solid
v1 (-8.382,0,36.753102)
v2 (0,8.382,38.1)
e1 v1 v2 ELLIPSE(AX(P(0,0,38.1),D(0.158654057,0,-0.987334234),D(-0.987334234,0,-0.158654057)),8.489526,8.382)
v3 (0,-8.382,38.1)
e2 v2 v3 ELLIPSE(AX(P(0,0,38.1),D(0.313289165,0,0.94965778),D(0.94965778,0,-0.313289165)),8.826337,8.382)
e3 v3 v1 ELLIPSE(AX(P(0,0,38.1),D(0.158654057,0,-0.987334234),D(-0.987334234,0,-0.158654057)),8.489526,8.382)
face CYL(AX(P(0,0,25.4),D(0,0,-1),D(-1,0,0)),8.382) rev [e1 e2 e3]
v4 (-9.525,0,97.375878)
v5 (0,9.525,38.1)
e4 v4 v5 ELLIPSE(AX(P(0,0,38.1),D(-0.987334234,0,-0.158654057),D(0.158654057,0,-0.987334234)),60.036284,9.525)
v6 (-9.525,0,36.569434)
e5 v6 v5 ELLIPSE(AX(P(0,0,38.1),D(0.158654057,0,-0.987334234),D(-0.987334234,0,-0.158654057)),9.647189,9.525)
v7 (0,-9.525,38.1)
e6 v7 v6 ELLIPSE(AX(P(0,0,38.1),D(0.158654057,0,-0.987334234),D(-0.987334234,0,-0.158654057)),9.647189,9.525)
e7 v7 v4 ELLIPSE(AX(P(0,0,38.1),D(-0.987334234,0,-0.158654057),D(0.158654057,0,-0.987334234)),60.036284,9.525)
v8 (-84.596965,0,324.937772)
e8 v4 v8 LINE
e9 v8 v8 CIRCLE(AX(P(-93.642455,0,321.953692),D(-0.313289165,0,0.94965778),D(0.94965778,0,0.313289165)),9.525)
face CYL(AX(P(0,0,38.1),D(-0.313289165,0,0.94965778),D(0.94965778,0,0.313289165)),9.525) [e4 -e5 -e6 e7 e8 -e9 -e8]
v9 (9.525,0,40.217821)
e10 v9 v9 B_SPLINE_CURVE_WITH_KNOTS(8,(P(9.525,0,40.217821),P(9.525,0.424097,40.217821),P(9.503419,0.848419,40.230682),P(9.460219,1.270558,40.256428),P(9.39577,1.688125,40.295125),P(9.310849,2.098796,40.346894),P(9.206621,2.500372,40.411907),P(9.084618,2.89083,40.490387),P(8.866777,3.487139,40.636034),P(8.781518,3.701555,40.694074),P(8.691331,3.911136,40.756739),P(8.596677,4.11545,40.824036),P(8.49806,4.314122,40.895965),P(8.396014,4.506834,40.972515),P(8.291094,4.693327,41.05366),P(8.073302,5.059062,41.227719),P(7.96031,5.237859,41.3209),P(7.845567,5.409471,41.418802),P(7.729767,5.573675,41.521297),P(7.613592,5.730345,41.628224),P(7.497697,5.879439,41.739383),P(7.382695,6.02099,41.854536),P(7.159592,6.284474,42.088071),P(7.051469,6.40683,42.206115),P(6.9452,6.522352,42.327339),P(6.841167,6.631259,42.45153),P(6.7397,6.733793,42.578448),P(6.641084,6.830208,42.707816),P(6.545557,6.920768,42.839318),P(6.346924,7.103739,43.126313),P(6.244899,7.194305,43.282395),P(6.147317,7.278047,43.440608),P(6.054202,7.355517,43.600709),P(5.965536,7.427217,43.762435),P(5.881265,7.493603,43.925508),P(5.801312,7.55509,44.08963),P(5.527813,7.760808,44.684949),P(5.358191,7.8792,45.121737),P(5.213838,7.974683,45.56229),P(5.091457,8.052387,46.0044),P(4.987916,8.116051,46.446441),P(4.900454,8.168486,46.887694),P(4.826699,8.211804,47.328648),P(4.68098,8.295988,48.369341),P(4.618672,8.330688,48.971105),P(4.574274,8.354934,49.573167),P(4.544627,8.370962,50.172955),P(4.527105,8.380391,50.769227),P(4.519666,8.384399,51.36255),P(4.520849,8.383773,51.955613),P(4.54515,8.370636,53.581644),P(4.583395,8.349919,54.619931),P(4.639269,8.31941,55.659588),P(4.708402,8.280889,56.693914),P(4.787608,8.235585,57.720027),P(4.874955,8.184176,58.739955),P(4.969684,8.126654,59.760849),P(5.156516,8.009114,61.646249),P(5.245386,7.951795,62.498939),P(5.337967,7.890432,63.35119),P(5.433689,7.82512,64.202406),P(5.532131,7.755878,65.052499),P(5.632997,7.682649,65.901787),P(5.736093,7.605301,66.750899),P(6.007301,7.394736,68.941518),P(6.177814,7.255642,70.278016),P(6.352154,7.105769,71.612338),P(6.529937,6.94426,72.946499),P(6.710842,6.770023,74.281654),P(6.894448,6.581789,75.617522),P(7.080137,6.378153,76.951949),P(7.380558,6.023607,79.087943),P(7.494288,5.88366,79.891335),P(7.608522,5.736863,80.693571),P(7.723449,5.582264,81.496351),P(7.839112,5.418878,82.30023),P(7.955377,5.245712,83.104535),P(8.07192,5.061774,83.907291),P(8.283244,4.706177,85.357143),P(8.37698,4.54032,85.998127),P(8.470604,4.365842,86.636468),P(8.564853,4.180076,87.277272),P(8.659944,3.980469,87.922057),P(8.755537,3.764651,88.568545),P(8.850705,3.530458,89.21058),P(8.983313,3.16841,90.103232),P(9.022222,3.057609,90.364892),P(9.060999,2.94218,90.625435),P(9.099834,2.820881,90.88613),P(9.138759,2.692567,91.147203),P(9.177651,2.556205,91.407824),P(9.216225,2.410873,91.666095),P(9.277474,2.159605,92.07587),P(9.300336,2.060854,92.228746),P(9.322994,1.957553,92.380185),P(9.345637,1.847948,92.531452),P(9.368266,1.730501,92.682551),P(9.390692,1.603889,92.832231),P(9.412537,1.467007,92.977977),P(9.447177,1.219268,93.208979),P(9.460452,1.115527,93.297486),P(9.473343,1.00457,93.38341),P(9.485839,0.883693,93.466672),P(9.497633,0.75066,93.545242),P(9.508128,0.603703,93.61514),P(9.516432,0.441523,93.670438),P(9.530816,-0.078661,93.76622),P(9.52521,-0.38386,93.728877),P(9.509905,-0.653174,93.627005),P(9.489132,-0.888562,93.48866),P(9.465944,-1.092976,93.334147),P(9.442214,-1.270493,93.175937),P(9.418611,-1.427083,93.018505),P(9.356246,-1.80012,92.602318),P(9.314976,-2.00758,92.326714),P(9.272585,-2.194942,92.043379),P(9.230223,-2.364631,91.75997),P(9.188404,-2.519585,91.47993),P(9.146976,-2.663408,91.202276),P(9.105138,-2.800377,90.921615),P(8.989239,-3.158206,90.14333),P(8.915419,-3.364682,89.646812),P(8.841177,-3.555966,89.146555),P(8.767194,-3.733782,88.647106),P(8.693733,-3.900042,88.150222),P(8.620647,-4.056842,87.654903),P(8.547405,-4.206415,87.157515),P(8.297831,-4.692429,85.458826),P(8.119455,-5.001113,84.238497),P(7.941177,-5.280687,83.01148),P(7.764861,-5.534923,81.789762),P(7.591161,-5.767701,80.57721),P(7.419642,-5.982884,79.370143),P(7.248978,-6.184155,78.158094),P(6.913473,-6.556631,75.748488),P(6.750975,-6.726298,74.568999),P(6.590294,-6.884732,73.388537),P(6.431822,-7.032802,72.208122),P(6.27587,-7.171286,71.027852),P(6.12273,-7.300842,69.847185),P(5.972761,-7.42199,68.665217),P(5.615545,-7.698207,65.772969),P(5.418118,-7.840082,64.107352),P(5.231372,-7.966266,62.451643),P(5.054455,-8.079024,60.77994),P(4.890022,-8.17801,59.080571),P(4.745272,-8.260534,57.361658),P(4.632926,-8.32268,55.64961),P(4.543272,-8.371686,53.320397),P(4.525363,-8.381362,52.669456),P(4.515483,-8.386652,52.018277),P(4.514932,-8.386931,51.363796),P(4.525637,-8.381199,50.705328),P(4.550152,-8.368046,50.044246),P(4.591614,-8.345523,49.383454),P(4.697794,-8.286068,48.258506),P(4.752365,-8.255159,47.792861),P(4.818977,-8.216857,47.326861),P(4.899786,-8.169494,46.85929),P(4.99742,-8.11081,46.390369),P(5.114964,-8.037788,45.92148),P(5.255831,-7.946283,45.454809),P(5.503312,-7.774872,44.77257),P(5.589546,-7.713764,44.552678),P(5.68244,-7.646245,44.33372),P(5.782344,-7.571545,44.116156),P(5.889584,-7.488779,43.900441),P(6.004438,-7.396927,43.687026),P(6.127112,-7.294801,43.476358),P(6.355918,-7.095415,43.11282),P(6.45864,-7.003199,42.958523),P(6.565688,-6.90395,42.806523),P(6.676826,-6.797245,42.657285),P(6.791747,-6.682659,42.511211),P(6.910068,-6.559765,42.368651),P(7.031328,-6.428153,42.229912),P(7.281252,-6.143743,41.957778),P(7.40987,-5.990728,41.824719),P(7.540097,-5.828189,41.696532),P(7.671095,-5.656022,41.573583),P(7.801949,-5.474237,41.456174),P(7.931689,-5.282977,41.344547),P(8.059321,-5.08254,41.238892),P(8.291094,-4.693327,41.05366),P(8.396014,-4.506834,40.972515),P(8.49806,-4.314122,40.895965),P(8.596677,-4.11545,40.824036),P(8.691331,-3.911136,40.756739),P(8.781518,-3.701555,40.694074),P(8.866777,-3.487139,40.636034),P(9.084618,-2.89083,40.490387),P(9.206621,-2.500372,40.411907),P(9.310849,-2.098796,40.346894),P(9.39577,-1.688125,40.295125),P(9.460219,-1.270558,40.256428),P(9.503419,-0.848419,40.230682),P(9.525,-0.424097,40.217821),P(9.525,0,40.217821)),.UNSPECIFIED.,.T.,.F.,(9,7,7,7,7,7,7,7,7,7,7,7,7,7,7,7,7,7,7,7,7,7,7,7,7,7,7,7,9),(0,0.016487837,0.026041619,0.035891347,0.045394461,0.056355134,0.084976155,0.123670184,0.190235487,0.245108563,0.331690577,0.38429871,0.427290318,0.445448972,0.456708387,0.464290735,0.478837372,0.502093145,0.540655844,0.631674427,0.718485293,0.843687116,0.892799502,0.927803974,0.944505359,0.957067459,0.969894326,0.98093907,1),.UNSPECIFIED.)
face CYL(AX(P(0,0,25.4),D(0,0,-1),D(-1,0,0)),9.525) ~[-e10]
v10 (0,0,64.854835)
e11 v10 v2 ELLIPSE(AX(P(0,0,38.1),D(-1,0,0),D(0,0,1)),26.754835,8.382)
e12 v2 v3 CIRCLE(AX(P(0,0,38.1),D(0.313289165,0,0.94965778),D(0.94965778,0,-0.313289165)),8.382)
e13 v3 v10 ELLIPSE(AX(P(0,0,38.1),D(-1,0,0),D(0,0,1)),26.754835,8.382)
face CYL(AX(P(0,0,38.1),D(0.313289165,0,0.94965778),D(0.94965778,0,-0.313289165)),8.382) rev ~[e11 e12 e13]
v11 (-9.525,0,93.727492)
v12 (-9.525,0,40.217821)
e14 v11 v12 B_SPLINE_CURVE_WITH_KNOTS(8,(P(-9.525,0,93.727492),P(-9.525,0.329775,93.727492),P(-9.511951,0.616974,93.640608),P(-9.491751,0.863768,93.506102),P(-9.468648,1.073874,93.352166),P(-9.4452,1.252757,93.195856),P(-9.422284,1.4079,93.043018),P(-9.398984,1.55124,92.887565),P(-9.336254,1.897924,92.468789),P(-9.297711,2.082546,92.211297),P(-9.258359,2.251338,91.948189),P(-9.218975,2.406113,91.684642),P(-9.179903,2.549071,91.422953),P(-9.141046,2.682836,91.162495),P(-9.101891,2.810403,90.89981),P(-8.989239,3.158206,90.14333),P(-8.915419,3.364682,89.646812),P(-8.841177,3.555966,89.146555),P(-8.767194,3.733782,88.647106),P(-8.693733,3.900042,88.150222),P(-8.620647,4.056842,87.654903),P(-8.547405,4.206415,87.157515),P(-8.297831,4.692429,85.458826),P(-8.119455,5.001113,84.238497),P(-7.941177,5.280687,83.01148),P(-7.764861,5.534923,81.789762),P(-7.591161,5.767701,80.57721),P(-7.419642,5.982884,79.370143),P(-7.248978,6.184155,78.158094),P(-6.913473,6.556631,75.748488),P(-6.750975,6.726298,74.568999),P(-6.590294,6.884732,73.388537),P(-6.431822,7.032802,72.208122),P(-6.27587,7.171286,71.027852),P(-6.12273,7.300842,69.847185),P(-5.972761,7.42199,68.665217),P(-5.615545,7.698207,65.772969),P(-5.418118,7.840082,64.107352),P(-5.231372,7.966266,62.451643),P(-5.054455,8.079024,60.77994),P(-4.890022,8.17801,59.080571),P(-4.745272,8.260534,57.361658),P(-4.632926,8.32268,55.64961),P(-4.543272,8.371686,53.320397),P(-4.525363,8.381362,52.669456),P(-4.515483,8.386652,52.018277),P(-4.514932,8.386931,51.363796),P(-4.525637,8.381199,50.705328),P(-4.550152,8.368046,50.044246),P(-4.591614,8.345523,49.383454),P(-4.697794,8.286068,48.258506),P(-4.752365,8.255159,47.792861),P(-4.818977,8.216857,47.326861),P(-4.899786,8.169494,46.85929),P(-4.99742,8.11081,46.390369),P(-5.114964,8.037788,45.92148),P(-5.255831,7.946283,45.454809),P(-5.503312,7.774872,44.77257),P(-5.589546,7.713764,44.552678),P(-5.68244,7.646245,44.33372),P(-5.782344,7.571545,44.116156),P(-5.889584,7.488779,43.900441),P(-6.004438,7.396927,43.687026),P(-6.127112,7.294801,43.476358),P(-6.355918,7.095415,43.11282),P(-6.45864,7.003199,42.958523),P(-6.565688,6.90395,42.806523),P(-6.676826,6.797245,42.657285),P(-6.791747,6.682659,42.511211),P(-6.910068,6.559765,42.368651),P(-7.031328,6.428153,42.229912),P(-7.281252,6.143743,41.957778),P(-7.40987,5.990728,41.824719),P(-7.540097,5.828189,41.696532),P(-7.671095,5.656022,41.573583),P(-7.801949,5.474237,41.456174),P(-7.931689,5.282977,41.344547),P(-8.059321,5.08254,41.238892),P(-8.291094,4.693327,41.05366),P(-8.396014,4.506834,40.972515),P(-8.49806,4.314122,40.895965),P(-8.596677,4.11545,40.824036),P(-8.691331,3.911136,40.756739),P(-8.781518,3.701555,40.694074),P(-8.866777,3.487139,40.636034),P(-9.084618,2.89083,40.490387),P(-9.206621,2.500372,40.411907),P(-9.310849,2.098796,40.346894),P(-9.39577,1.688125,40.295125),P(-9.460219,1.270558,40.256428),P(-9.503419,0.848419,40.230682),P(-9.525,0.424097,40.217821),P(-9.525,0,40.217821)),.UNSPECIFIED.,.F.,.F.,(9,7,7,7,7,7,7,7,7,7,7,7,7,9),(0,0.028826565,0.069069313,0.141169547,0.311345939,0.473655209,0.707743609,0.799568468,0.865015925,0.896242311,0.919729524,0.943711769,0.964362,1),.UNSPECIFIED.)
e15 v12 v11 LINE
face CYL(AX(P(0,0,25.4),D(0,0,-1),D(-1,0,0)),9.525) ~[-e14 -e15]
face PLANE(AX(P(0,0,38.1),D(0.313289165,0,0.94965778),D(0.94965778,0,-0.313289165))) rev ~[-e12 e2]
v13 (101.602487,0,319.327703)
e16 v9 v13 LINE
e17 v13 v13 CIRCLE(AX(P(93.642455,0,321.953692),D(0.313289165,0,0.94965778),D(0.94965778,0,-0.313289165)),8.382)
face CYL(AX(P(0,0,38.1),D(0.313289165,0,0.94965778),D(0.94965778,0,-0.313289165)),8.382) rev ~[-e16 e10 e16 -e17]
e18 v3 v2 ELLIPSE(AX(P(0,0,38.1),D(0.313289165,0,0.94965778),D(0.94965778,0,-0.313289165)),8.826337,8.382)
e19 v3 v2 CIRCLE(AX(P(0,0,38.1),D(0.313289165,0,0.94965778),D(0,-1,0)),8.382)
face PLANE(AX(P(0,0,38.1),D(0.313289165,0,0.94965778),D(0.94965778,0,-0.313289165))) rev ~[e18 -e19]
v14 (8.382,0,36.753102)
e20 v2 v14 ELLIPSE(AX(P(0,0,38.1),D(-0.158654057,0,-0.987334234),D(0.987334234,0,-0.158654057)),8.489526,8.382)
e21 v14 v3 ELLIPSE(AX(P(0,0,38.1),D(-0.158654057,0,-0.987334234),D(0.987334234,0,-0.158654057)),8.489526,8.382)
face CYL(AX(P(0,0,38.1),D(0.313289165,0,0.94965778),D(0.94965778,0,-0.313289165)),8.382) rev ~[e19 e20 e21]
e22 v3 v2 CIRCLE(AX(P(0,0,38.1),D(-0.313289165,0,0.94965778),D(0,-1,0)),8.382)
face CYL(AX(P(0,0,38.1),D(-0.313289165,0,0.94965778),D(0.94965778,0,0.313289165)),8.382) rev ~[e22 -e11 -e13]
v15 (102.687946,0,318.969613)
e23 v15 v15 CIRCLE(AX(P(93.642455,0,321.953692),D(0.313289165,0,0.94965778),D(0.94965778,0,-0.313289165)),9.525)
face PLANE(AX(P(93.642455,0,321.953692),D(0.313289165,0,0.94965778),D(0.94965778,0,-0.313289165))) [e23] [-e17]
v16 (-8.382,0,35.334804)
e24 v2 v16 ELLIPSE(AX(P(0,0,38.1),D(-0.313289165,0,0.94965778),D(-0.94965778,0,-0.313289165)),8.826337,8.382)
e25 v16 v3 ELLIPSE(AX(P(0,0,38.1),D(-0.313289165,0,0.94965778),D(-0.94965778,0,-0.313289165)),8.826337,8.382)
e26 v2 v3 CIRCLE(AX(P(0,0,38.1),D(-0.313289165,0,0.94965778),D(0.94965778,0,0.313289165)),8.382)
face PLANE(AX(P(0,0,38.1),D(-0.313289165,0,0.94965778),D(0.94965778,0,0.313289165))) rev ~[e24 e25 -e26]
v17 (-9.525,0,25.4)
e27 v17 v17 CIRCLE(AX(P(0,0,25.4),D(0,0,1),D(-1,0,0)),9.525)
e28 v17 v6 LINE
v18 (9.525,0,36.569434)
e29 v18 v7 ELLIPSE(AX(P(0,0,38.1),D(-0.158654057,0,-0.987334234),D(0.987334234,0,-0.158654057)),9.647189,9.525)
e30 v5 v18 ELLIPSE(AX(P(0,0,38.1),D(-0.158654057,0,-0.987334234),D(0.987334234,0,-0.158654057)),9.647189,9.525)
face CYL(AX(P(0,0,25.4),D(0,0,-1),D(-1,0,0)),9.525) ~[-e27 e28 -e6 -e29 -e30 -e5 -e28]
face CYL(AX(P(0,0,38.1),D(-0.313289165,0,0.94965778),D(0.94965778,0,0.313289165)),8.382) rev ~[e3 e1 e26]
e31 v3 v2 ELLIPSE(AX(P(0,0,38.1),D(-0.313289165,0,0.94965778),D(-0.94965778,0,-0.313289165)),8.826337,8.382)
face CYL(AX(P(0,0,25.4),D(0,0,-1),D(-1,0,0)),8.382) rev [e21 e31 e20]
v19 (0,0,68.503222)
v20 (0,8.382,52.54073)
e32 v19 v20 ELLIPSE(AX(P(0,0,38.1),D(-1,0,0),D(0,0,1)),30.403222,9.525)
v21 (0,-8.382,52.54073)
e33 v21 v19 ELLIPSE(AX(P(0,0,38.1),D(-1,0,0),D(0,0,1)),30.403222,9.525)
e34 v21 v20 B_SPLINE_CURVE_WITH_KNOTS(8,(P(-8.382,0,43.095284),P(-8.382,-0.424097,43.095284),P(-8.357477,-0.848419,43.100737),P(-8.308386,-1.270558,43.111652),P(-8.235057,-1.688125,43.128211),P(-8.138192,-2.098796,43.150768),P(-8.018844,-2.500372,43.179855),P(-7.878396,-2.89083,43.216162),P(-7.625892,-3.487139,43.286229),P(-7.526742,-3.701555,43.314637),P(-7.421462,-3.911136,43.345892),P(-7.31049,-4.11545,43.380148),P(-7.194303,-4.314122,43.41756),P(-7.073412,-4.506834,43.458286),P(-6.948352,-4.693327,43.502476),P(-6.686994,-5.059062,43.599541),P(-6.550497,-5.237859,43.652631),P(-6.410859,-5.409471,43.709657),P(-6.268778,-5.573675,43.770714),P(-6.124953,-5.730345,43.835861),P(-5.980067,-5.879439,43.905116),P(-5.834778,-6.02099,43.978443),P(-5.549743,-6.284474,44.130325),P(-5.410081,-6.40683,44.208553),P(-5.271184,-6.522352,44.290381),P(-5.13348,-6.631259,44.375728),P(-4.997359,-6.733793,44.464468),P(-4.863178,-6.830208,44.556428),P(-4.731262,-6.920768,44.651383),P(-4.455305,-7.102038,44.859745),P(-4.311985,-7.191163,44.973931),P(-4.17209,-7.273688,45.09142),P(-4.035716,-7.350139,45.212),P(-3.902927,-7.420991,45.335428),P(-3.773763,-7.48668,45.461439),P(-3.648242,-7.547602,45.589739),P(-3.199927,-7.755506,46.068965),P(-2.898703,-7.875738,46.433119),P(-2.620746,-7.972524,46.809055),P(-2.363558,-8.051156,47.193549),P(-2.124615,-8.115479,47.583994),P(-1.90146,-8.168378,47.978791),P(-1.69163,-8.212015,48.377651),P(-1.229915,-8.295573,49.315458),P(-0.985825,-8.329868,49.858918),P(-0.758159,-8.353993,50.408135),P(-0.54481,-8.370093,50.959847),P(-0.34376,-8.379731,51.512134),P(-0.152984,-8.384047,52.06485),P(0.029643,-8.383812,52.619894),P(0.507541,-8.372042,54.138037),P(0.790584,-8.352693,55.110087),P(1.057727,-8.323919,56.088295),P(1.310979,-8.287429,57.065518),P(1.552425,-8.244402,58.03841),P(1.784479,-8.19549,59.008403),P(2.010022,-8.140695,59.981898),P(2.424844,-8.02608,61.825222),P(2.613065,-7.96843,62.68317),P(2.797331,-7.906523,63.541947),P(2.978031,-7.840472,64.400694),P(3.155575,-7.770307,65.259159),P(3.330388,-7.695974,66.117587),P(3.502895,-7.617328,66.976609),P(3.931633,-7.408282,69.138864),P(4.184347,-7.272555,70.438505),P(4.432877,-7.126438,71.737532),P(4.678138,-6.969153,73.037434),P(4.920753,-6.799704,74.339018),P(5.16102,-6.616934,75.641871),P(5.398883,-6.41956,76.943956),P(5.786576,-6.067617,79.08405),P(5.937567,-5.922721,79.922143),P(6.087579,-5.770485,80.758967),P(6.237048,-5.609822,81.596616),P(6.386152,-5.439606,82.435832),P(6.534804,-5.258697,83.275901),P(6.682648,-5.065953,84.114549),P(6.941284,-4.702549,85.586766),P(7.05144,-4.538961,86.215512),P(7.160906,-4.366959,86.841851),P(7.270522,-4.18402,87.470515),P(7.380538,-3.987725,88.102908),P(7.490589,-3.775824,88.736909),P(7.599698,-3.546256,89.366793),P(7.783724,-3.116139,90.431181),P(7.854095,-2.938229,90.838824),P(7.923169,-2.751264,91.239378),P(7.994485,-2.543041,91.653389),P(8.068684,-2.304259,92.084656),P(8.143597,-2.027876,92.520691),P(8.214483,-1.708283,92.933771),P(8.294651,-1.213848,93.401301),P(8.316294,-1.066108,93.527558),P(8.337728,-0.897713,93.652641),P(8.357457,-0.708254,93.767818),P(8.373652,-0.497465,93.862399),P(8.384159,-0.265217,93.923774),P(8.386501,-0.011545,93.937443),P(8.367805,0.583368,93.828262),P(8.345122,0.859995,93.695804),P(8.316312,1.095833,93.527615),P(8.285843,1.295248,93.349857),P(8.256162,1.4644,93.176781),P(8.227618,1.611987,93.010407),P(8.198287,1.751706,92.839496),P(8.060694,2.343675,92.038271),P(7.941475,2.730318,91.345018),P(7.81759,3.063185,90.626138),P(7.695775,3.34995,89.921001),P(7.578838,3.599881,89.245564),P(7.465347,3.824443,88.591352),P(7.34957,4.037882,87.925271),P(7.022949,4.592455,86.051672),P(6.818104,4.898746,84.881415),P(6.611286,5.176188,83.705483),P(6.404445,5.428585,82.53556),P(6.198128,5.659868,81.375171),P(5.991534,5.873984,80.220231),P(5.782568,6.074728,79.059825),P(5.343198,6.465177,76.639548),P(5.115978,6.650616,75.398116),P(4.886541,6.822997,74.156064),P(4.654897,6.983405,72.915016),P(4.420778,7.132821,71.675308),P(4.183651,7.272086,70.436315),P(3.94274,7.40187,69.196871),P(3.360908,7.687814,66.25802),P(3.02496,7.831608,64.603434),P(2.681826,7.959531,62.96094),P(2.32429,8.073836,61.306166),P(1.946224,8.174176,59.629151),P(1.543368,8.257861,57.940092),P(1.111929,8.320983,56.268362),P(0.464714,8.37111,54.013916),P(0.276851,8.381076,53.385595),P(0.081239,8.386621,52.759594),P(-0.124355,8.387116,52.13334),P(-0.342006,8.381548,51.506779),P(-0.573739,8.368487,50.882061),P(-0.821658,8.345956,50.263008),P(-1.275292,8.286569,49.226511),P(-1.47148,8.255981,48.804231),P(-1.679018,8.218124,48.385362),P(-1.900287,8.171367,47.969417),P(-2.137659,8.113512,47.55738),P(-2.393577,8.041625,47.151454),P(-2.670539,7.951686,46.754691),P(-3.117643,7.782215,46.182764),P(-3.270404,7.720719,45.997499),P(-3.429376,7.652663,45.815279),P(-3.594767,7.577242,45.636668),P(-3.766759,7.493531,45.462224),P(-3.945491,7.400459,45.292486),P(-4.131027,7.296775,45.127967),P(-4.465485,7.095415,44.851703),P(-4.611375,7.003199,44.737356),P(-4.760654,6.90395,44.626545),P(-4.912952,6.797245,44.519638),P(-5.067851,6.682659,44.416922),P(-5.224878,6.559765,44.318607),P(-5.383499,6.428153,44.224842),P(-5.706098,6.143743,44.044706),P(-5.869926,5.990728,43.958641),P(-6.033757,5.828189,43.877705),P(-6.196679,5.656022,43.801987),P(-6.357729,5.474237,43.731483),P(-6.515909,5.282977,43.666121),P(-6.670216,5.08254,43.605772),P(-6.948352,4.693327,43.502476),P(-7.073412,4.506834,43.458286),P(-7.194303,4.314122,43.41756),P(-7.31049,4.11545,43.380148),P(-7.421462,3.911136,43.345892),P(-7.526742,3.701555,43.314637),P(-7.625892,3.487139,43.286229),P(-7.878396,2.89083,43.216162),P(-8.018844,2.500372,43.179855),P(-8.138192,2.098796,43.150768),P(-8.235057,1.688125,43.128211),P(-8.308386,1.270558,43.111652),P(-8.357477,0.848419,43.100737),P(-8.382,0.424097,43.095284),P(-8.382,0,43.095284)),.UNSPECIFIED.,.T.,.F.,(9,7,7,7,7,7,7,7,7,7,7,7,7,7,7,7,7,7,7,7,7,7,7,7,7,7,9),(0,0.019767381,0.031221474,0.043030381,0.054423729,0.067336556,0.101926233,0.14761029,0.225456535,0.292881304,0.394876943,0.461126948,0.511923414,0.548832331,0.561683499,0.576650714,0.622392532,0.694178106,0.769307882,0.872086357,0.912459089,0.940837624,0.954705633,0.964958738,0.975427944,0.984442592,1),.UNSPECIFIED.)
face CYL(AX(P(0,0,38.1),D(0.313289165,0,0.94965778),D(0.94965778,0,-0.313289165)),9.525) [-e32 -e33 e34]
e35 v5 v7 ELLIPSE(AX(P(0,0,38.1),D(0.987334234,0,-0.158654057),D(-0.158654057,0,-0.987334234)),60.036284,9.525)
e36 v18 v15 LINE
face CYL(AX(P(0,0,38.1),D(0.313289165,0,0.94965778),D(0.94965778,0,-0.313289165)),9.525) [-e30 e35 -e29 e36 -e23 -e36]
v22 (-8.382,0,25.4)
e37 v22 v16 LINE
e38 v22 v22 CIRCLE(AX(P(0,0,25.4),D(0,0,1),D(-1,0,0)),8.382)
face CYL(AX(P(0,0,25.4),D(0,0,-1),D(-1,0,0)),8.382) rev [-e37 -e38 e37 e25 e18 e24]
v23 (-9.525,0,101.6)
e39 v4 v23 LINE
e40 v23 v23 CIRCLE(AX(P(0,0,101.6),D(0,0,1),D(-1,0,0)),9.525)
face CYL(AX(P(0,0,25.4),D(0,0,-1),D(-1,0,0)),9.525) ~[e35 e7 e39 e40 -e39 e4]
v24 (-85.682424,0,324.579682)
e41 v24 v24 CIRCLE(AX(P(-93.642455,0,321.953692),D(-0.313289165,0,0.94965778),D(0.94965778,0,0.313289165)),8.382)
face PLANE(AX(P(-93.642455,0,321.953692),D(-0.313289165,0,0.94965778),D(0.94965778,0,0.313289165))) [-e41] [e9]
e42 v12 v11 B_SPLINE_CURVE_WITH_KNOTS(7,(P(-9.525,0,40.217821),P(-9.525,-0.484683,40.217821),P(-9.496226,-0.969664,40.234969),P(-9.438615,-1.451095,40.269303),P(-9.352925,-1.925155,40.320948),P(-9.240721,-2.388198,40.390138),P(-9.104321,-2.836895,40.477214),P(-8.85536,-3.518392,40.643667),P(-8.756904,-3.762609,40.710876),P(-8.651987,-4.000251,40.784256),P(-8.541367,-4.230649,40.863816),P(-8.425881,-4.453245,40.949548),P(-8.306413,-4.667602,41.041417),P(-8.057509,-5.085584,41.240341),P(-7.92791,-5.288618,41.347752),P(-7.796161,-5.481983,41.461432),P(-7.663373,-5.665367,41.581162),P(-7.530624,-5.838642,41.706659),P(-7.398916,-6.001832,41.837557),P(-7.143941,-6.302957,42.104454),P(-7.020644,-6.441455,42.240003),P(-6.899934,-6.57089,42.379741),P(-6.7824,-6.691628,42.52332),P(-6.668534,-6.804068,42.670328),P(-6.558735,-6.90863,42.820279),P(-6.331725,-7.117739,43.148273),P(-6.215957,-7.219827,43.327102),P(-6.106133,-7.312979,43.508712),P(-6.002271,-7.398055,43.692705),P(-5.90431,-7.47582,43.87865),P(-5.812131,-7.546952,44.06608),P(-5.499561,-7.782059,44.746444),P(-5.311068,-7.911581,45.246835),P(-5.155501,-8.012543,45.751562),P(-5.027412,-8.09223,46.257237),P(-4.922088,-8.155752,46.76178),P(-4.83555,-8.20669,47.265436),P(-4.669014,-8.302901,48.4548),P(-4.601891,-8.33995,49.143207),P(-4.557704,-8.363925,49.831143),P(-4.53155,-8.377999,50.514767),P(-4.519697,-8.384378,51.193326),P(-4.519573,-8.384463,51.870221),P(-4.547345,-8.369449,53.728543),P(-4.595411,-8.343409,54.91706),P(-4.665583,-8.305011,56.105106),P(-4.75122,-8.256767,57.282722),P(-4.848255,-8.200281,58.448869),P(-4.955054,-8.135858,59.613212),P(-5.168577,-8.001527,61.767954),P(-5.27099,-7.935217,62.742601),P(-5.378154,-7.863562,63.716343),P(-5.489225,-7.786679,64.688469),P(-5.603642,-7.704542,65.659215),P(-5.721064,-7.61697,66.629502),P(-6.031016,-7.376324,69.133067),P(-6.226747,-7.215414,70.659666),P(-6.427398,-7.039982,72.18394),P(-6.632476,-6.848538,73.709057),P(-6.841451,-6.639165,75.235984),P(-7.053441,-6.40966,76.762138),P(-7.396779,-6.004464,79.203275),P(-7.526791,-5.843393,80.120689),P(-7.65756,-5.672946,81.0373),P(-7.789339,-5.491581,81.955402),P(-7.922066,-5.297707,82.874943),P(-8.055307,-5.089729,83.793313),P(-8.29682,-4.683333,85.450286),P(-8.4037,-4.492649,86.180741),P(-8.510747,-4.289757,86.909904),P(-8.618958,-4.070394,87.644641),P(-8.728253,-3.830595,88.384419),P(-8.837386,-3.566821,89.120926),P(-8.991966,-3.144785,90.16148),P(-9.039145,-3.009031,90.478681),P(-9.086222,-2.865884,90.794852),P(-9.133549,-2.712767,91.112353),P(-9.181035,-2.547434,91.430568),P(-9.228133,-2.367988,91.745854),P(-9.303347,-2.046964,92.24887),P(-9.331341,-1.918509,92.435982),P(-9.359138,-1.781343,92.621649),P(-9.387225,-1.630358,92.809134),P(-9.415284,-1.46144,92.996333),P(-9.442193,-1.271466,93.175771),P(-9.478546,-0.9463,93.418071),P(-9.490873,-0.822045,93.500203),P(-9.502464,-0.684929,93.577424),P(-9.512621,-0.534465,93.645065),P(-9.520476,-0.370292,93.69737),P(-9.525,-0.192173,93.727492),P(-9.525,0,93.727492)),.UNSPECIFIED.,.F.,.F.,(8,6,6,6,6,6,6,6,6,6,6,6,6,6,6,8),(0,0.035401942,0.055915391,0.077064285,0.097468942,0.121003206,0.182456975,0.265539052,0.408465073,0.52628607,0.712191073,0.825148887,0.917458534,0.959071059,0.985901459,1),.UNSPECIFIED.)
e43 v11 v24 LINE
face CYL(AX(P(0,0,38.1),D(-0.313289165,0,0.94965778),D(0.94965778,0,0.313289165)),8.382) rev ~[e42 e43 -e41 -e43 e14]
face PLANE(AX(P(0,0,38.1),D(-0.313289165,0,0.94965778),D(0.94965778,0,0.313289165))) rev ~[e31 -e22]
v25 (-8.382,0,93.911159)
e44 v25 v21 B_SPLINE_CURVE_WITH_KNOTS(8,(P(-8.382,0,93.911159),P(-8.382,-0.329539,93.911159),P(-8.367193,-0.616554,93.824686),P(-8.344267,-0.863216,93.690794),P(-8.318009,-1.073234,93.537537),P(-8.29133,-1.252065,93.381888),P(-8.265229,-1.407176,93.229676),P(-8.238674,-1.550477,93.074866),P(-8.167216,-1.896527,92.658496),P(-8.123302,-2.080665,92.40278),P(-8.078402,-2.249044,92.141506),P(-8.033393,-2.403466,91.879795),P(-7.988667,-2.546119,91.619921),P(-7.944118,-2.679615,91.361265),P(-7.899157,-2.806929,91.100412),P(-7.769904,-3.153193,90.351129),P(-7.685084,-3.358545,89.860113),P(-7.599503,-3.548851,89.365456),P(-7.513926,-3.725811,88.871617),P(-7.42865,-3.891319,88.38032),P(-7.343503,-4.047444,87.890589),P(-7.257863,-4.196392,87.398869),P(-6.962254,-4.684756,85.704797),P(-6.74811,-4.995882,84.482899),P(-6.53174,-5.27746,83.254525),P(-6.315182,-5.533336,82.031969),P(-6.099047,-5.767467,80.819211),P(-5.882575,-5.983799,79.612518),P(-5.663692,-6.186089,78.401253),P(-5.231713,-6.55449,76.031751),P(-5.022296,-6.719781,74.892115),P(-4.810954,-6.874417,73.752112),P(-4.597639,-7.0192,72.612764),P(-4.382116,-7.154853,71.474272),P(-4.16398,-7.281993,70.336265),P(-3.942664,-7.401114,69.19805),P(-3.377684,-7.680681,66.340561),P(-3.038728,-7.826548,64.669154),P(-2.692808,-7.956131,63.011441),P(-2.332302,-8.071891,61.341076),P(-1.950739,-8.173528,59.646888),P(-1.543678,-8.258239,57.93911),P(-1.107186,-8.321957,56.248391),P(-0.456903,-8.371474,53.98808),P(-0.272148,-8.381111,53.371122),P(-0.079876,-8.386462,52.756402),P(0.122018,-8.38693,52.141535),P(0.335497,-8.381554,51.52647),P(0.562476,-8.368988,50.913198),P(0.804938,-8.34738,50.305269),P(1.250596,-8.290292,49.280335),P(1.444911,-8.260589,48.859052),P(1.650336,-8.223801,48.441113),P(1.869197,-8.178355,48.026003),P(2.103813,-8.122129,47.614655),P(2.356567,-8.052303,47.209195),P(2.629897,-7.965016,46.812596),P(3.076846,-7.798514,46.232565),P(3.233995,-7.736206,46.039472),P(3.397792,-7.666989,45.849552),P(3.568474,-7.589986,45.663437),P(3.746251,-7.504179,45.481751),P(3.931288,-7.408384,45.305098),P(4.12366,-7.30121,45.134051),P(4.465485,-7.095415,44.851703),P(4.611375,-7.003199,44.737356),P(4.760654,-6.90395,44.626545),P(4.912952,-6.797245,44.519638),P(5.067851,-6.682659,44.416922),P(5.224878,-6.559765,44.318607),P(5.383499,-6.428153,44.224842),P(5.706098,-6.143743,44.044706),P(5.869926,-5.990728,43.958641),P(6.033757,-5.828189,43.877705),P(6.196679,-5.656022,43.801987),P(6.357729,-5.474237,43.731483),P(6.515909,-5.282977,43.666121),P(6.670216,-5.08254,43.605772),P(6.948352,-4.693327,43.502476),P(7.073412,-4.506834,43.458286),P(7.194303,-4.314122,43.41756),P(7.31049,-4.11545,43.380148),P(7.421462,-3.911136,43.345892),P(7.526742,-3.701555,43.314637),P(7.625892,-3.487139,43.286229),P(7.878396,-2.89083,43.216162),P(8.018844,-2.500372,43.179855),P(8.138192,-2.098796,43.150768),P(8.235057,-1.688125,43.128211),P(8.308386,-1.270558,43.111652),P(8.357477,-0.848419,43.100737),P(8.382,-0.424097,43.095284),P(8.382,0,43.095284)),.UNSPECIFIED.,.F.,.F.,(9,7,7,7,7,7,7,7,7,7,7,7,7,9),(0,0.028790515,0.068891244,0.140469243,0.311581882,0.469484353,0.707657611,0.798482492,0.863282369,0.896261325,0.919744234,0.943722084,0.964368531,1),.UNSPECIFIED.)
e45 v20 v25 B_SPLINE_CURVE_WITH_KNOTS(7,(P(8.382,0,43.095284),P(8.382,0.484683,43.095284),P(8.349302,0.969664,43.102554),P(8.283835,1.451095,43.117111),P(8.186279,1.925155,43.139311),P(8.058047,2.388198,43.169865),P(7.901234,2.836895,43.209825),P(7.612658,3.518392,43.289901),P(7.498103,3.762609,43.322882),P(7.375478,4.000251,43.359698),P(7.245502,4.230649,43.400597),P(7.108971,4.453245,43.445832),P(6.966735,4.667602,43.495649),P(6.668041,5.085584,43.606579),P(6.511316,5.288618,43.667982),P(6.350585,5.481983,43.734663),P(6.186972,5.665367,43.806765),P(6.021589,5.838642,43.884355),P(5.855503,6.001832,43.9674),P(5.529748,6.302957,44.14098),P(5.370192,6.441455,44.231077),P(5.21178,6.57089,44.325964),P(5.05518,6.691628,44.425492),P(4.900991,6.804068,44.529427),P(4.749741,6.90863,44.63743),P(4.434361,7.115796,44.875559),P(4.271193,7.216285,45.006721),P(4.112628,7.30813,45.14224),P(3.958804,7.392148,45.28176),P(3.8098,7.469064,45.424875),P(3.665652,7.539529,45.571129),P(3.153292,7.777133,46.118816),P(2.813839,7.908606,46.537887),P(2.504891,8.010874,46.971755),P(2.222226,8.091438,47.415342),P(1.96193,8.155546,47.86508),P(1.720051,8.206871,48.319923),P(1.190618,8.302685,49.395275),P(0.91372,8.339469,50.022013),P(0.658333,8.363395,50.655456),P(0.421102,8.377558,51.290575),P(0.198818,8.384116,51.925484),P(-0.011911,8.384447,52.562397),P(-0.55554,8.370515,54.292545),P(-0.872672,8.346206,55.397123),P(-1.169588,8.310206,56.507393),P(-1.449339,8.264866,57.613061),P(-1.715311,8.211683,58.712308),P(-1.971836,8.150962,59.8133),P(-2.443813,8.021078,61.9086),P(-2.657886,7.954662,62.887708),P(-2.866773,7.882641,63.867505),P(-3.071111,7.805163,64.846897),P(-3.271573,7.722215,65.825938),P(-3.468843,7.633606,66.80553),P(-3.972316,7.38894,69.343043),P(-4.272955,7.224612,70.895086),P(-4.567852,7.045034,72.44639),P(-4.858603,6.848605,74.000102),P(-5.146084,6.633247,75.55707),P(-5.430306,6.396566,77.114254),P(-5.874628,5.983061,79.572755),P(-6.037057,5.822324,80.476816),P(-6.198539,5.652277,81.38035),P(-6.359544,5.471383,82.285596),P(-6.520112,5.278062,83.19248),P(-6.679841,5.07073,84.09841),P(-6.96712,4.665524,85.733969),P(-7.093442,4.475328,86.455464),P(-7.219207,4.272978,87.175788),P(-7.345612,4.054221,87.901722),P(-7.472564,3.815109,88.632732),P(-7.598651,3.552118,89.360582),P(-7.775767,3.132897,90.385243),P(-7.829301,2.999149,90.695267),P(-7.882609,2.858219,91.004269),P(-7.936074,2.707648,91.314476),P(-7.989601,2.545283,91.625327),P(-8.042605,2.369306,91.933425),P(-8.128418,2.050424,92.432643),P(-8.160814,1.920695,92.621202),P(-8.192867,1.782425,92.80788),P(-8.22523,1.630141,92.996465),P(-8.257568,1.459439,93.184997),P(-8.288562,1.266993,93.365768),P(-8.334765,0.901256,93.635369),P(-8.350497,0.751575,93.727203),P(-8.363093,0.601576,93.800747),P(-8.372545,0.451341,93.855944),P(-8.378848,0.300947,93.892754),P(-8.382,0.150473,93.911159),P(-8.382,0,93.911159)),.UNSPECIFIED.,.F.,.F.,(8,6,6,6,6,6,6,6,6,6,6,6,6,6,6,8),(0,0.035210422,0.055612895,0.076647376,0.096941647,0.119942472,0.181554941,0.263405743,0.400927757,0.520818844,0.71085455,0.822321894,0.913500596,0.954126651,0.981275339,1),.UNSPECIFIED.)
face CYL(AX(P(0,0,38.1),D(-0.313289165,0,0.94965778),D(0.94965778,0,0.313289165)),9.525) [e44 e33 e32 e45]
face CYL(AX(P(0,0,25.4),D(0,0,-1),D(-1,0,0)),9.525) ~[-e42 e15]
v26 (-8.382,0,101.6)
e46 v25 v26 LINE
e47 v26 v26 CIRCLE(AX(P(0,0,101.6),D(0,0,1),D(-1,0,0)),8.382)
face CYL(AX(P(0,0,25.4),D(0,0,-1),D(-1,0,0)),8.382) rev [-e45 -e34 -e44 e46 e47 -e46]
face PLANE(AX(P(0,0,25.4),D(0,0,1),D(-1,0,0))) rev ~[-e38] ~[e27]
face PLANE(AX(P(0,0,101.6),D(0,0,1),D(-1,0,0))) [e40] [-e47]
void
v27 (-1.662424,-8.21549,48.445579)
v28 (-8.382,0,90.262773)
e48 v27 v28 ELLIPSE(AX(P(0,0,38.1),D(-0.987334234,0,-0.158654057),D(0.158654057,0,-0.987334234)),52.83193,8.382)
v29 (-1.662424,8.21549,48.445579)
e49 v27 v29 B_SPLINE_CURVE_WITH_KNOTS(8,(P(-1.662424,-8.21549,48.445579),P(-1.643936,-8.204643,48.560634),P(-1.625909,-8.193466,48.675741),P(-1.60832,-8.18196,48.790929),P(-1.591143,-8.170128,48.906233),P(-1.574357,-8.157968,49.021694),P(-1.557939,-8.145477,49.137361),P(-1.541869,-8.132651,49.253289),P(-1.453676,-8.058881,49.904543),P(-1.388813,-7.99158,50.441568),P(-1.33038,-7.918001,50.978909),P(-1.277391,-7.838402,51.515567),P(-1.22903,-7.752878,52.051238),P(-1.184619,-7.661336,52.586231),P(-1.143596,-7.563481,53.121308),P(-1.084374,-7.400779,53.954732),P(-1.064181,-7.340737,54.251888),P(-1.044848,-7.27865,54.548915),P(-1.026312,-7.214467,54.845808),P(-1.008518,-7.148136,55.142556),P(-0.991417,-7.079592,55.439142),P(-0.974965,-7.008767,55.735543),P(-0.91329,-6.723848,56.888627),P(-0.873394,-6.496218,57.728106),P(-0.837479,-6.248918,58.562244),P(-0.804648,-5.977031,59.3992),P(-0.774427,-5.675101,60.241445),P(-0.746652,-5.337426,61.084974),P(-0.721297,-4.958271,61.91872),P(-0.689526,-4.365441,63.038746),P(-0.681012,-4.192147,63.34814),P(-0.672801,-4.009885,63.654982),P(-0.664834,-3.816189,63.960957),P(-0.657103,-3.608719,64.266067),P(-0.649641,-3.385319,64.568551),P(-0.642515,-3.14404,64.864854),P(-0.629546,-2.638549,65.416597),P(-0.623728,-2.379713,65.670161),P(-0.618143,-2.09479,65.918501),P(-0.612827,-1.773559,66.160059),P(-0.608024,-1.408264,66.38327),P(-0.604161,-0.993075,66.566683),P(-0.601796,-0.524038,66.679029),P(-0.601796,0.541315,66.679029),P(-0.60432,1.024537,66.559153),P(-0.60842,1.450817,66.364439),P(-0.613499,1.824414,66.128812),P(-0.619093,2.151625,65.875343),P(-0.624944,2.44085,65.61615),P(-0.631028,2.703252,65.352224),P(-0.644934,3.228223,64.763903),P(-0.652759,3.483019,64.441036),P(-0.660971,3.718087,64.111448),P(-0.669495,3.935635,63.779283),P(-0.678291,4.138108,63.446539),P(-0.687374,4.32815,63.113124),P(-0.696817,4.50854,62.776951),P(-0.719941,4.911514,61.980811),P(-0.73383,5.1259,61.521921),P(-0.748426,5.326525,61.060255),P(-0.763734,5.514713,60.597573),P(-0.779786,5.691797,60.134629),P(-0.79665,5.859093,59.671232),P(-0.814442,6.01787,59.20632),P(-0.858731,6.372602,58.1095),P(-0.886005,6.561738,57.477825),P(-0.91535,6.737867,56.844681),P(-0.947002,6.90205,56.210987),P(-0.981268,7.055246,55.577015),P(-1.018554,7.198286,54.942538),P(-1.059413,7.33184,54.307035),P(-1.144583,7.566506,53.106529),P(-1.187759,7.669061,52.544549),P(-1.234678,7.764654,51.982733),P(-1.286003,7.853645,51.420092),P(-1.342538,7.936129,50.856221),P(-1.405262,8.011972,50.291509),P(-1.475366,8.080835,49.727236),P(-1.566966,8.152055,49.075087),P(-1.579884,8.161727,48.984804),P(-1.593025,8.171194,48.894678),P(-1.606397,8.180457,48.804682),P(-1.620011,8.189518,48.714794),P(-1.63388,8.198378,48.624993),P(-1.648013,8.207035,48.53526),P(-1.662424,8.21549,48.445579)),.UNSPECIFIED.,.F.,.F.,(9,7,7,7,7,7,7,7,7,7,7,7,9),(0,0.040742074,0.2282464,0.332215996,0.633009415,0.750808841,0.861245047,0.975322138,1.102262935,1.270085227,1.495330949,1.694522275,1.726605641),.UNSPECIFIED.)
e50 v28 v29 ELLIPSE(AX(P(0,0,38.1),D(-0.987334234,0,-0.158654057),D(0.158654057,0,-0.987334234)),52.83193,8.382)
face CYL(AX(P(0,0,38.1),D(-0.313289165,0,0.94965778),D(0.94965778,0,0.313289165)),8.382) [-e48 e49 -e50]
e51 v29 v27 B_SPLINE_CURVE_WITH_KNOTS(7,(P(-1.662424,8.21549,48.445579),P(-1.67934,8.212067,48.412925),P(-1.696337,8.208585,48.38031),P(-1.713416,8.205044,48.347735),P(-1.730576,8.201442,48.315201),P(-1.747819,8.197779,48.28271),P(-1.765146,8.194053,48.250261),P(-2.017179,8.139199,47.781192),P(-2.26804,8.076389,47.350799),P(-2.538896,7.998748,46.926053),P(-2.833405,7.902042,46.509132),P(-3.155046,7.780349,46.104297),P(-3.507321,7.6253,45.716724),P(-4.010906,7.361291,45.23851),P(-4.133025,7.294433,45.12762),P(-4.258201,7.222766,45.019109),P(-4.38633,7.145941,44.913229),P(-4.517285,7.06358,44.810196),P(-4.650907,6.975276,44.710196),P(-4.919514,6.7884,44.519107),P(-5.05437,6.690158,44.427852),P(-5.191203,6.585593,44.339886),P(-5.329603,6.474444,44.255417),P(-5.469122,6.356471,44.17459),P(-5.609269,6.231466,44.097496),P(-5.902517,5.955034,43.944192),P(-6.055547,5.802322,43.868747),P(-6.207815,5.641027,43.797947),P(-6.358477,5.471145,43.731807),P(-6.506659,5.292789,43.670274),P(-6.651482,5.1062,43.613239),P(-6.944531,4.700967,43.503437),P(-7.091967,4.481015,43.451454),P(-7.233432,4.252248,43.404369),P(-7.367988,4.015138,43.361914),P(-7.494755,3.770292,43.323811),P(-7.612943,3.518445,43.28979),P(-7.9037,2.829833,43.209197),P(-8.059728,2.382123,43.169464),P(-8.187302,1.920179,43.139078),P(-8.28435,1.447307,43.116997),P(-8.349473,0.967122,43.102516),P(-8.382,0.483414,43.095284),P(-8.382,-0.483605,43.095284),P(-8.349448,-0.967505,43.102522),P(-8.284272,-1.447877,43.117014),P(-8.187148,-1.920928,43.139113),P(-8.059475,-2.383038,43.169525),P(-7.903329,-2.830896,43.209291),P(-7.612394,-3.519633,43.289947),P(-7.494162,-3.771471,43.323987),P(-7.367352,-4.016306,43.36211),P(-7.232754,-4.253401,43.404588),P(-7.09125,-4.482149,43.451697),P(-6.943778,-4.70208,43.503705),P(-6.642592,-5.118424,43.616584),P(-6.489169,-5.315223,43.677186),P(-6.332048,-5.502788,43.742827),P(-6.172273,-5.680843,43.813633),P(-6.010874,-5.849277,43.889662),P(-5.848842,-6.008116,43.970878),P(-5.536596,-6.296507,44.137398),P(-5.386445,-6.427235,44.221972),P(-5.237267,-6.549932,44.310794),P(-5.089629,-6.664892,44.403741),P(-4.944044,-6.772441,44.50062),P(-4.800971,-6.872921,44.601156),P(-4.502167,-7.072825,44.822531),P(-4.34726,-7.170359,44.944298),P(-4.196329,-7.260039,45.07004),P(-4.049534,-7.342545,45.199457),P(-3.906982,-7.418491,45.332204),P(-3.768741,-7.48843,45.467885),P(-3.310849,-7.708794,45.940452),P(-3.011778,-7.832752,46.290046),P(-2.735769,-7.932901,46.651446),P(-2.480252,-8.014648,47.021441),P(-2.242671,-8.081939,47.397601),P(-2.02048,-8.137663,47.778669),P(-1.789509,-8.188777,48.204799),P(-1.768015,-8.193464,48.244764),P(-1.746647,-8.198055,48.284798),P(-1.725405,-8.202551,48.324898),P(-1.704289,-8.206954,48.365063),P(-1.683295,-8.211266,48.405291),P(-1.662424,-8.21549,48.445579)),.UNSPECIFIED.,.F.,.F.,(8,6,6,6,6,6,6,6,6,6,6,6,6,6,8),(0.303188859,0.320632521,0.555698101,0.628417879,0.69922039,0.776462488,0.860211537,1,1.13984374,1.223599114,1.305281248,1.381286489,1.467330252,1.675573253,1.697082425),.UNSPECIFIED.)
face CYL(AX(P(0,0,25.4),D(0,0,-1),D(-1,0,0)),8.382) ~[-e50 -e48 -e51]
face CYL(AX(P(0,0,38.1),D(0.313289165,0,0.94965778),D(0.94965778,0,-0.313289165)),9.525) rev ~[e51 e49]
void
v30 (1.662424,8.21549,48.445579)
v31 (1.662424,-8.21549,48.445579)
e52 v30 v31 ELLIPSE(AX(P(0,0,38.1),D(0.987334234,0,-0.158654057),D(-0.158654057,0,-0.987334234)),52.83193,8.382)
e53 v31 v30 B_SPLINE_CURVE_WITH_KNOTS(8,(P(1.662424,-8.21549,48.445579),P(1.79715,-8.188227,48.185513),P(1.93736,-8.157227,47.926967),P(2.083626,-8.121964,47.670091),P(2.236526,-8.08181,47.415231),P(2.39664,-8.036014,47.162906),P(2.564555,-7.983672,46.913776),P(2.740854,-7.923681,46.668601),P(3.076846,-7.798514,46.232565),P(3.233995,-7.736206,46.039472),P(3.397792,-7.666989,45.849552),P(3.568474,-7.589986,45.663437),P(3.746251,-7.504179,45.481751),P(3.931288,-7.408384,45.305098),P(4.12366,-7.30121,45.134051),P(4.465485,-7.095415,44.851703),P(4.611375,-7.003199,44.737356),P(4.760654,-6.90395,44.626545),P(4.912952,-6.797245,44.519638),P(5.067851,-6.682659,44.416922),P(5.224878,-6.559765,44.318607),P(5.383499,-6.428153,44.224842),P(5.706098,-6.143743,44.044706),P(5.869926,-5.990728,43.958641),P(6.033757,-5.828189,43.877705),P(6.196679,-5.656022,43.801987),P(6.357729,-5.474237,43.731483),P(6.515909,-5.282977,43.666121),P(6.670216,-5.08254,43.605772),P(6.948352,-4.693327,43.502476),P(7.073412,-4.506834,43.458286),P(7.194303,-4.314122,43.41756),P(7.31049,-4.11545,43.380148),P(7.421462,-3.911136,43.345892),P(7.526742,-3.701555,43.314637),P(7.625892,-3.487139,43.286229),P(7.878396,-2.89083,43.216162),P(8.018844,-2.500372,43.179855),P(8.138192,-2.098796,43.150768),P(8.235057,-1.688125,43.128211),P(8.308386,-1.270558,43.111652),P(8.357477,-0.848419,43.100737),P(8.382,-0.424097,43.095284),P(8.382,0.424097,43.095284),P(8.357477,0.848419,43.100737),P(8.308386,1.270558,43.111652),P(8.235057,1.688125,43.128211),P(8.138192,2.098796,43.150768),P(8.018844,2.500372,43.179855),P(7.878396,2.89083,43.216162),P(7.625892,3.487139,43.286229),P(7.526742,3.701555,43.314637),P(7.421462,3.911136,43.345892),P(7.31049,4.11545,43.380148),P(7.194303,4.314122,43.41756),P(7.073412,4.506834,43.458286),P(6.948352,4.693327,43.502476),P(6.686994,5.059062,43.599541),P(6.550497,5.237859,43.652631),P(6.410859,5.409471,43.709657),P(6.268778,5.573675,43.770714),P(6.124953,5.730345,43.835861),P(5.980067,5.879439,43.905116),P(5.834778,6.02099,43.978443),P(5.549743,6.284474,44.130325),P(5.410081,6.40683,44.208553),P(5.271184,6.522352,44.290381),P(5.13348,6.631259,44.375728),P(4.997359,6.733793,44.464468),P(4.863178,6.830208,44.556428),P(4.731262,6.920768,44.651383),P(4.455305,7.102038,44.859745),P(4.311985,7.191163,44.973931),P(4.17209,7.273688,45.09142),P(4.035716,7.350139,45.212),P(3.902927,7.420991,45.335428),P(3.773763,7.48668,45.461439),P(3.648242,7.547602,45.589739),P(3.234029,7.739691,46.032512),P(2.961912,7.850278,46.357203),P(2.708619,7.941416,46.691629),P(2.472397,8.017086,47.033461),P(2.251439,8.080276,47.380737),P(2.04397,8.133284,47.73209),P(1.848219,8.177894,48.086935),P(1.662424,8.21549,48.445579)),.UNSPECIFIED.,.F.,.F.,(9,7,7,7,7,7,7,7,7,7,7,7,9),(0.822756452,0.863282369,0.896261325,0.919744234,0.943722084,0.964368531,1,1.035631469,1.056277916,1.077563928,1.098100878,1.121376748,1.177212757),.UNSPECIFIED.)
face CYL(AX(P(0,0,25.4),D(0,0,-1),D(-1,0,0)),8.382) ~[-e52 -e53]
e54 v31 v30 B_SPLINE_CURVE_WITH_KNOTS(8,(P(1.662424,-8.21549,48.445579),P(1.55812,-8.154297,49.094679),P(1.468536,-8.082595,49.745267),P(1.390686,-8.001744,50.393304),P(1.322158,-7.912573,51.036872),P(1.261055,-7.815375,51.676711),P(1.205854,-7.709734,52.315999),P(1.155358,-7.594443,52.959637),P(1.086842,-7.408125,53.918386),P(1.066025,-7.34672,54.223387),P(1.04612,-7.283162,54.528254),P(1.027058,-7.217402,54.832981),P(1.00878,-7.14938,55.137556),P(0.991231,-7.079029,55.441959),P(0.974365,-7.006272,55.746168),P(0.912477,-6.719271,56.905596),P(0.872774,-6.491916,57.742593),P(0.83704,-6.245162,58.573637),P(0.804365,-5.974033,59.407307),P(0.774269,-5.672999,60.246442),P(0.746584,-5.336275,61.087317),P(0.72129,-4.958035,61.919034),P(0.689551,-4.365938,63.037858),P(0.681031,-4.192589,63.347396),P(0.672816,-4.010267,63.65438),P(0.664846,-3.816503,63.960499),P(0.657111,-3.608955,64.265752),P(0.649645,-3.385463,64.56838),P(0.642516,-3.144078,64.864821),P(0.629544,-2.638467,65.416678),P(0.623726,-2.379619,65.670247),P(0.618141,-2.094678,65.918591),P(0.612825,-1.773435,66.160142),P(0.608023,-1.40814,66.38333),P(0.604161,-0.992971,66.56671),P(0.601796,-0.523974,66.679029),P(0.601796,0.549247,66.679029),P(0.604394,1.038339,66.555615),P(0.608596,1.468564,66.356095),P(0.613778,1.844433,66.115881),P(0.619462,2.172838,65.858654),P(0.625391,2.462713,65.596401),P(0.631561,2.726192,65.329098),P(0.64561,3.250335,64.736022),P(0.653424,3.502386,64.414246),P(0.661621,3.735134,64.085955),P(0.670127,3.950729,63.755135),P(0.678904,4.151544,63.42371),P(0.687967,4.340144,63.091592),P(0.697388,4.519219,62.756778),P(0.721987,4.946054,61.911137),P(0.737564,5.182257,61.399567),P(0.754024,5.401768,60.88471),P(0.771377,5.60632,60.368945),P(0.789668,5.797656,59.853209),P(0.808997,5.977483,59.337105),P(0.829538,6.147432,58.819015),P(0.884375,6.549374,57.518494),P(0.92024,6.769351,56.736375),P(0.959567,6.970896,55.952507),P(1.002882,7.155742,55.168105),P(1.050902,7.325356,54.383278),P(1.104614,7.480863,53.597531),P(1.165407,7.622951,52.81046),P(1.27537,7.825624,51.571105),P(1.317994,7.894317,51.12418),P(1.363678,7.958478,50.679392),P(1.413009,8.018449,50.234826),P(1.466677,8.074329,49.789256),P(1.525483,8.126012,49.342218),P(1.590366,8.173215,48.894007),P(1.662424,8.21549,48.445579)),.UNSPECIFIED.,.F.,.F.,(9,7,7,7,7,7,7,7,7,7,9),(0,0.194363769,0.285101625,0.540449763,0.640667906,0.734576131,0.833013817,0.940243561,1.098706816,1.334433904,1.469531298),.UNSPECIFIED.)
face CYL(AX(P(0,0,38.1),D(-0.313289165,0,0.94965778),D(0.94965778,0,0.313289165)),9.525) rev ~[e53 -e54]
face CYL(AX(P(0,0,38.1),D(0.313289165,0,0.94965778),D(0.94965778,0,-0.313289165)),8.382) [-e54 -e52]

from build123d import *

# Parameters (mm, degrees)
SKETCH2_R               = 9.525
SKETCH2_R_2             = 8.382
BOSS_EXTRUDE1_DEPTH     = 76.2
SWEEP_THIN5_PROFILE_R   = 9.525
SWEEP_THIN5_PROFILE_R_2 = 8.382
SWEEP_THIN6_PROFILE_R   = 9.525
SWEEP_THIN6_PROFILE_R_2 = 8.382


with BuildPart() as part:
    # Sketch2 → Boss-Extrude1 (new body)
    with BuildSketch(Plane.XY.offset(25.4)):
        with Locations(Location((0, 0, 0), (0, 0, 180))):
            Circle(SKETCH2_R)
        with Locations(Location((0, 0, 0), (0, 0, 180))):
            Circle(SKETCH2_R_2, mode=Mode.SUBTRACT)
    extrude(amount=BOSS_EXTRUDE1_DEPTH)

    # Sweep-Thin5: sweep along a path in Sketch46
    with BuildLine(Plane(origin=(0, 0, 0), x_dir=(1, 0, 0), z_dir=(0, 1, 0))) as sweep_thin5_path:
        Line((0, -38.1), (-93.64245522, -321.953692385))
    # Sweep-Thin5 profile (on start of the path) → Sweep-Thin5 (sweep)
    with BuildSketch(Plane(origin=(0, 0, 38.1), x_dir=(0.9496577801280877, 0, 0.3132891645783379), z_dir=(-0.3132891645783379, 0, 0.9496577801280877))):
        Circle(SWEEP_THIN5_PROFILE_R)
        Circle(SWEEP_THIN5_PROFILE_R_2, mode=Mode.SUBTRACT)
    sweep(path=sweep_thin5_path.line)

    # Sweep-Thin6: sweep along a path in Sketch3
    with BuildLine(Plane(origin=(0, 0, 0), x_dir=(1, 0, 0), z_dir=(0, 1, 0))) as sweep_thin6_path:
        Line((0, -38.1), (93.64245522, -321.953692385))
    # Sweep-Thin6 profile (on start of the path) → Sweep-Thin6 (sweep)
    with BuildSketch(Plane(origin=(0, 0, 38.1), x_dir=(0.9496577801280874, 0, -0.3132891645783382), z_dir=(0.3132891645783382, 0, 0.9496577801280874))):
        Circle(SWEEP_THIN6_PROFILE_R)
        Circle(SWEEP_THIN6_PROFILE_R_2, mode=Mode.SUBTRACT)
    sweep(path=sweep_thin6_path.line)


solid = part.part
